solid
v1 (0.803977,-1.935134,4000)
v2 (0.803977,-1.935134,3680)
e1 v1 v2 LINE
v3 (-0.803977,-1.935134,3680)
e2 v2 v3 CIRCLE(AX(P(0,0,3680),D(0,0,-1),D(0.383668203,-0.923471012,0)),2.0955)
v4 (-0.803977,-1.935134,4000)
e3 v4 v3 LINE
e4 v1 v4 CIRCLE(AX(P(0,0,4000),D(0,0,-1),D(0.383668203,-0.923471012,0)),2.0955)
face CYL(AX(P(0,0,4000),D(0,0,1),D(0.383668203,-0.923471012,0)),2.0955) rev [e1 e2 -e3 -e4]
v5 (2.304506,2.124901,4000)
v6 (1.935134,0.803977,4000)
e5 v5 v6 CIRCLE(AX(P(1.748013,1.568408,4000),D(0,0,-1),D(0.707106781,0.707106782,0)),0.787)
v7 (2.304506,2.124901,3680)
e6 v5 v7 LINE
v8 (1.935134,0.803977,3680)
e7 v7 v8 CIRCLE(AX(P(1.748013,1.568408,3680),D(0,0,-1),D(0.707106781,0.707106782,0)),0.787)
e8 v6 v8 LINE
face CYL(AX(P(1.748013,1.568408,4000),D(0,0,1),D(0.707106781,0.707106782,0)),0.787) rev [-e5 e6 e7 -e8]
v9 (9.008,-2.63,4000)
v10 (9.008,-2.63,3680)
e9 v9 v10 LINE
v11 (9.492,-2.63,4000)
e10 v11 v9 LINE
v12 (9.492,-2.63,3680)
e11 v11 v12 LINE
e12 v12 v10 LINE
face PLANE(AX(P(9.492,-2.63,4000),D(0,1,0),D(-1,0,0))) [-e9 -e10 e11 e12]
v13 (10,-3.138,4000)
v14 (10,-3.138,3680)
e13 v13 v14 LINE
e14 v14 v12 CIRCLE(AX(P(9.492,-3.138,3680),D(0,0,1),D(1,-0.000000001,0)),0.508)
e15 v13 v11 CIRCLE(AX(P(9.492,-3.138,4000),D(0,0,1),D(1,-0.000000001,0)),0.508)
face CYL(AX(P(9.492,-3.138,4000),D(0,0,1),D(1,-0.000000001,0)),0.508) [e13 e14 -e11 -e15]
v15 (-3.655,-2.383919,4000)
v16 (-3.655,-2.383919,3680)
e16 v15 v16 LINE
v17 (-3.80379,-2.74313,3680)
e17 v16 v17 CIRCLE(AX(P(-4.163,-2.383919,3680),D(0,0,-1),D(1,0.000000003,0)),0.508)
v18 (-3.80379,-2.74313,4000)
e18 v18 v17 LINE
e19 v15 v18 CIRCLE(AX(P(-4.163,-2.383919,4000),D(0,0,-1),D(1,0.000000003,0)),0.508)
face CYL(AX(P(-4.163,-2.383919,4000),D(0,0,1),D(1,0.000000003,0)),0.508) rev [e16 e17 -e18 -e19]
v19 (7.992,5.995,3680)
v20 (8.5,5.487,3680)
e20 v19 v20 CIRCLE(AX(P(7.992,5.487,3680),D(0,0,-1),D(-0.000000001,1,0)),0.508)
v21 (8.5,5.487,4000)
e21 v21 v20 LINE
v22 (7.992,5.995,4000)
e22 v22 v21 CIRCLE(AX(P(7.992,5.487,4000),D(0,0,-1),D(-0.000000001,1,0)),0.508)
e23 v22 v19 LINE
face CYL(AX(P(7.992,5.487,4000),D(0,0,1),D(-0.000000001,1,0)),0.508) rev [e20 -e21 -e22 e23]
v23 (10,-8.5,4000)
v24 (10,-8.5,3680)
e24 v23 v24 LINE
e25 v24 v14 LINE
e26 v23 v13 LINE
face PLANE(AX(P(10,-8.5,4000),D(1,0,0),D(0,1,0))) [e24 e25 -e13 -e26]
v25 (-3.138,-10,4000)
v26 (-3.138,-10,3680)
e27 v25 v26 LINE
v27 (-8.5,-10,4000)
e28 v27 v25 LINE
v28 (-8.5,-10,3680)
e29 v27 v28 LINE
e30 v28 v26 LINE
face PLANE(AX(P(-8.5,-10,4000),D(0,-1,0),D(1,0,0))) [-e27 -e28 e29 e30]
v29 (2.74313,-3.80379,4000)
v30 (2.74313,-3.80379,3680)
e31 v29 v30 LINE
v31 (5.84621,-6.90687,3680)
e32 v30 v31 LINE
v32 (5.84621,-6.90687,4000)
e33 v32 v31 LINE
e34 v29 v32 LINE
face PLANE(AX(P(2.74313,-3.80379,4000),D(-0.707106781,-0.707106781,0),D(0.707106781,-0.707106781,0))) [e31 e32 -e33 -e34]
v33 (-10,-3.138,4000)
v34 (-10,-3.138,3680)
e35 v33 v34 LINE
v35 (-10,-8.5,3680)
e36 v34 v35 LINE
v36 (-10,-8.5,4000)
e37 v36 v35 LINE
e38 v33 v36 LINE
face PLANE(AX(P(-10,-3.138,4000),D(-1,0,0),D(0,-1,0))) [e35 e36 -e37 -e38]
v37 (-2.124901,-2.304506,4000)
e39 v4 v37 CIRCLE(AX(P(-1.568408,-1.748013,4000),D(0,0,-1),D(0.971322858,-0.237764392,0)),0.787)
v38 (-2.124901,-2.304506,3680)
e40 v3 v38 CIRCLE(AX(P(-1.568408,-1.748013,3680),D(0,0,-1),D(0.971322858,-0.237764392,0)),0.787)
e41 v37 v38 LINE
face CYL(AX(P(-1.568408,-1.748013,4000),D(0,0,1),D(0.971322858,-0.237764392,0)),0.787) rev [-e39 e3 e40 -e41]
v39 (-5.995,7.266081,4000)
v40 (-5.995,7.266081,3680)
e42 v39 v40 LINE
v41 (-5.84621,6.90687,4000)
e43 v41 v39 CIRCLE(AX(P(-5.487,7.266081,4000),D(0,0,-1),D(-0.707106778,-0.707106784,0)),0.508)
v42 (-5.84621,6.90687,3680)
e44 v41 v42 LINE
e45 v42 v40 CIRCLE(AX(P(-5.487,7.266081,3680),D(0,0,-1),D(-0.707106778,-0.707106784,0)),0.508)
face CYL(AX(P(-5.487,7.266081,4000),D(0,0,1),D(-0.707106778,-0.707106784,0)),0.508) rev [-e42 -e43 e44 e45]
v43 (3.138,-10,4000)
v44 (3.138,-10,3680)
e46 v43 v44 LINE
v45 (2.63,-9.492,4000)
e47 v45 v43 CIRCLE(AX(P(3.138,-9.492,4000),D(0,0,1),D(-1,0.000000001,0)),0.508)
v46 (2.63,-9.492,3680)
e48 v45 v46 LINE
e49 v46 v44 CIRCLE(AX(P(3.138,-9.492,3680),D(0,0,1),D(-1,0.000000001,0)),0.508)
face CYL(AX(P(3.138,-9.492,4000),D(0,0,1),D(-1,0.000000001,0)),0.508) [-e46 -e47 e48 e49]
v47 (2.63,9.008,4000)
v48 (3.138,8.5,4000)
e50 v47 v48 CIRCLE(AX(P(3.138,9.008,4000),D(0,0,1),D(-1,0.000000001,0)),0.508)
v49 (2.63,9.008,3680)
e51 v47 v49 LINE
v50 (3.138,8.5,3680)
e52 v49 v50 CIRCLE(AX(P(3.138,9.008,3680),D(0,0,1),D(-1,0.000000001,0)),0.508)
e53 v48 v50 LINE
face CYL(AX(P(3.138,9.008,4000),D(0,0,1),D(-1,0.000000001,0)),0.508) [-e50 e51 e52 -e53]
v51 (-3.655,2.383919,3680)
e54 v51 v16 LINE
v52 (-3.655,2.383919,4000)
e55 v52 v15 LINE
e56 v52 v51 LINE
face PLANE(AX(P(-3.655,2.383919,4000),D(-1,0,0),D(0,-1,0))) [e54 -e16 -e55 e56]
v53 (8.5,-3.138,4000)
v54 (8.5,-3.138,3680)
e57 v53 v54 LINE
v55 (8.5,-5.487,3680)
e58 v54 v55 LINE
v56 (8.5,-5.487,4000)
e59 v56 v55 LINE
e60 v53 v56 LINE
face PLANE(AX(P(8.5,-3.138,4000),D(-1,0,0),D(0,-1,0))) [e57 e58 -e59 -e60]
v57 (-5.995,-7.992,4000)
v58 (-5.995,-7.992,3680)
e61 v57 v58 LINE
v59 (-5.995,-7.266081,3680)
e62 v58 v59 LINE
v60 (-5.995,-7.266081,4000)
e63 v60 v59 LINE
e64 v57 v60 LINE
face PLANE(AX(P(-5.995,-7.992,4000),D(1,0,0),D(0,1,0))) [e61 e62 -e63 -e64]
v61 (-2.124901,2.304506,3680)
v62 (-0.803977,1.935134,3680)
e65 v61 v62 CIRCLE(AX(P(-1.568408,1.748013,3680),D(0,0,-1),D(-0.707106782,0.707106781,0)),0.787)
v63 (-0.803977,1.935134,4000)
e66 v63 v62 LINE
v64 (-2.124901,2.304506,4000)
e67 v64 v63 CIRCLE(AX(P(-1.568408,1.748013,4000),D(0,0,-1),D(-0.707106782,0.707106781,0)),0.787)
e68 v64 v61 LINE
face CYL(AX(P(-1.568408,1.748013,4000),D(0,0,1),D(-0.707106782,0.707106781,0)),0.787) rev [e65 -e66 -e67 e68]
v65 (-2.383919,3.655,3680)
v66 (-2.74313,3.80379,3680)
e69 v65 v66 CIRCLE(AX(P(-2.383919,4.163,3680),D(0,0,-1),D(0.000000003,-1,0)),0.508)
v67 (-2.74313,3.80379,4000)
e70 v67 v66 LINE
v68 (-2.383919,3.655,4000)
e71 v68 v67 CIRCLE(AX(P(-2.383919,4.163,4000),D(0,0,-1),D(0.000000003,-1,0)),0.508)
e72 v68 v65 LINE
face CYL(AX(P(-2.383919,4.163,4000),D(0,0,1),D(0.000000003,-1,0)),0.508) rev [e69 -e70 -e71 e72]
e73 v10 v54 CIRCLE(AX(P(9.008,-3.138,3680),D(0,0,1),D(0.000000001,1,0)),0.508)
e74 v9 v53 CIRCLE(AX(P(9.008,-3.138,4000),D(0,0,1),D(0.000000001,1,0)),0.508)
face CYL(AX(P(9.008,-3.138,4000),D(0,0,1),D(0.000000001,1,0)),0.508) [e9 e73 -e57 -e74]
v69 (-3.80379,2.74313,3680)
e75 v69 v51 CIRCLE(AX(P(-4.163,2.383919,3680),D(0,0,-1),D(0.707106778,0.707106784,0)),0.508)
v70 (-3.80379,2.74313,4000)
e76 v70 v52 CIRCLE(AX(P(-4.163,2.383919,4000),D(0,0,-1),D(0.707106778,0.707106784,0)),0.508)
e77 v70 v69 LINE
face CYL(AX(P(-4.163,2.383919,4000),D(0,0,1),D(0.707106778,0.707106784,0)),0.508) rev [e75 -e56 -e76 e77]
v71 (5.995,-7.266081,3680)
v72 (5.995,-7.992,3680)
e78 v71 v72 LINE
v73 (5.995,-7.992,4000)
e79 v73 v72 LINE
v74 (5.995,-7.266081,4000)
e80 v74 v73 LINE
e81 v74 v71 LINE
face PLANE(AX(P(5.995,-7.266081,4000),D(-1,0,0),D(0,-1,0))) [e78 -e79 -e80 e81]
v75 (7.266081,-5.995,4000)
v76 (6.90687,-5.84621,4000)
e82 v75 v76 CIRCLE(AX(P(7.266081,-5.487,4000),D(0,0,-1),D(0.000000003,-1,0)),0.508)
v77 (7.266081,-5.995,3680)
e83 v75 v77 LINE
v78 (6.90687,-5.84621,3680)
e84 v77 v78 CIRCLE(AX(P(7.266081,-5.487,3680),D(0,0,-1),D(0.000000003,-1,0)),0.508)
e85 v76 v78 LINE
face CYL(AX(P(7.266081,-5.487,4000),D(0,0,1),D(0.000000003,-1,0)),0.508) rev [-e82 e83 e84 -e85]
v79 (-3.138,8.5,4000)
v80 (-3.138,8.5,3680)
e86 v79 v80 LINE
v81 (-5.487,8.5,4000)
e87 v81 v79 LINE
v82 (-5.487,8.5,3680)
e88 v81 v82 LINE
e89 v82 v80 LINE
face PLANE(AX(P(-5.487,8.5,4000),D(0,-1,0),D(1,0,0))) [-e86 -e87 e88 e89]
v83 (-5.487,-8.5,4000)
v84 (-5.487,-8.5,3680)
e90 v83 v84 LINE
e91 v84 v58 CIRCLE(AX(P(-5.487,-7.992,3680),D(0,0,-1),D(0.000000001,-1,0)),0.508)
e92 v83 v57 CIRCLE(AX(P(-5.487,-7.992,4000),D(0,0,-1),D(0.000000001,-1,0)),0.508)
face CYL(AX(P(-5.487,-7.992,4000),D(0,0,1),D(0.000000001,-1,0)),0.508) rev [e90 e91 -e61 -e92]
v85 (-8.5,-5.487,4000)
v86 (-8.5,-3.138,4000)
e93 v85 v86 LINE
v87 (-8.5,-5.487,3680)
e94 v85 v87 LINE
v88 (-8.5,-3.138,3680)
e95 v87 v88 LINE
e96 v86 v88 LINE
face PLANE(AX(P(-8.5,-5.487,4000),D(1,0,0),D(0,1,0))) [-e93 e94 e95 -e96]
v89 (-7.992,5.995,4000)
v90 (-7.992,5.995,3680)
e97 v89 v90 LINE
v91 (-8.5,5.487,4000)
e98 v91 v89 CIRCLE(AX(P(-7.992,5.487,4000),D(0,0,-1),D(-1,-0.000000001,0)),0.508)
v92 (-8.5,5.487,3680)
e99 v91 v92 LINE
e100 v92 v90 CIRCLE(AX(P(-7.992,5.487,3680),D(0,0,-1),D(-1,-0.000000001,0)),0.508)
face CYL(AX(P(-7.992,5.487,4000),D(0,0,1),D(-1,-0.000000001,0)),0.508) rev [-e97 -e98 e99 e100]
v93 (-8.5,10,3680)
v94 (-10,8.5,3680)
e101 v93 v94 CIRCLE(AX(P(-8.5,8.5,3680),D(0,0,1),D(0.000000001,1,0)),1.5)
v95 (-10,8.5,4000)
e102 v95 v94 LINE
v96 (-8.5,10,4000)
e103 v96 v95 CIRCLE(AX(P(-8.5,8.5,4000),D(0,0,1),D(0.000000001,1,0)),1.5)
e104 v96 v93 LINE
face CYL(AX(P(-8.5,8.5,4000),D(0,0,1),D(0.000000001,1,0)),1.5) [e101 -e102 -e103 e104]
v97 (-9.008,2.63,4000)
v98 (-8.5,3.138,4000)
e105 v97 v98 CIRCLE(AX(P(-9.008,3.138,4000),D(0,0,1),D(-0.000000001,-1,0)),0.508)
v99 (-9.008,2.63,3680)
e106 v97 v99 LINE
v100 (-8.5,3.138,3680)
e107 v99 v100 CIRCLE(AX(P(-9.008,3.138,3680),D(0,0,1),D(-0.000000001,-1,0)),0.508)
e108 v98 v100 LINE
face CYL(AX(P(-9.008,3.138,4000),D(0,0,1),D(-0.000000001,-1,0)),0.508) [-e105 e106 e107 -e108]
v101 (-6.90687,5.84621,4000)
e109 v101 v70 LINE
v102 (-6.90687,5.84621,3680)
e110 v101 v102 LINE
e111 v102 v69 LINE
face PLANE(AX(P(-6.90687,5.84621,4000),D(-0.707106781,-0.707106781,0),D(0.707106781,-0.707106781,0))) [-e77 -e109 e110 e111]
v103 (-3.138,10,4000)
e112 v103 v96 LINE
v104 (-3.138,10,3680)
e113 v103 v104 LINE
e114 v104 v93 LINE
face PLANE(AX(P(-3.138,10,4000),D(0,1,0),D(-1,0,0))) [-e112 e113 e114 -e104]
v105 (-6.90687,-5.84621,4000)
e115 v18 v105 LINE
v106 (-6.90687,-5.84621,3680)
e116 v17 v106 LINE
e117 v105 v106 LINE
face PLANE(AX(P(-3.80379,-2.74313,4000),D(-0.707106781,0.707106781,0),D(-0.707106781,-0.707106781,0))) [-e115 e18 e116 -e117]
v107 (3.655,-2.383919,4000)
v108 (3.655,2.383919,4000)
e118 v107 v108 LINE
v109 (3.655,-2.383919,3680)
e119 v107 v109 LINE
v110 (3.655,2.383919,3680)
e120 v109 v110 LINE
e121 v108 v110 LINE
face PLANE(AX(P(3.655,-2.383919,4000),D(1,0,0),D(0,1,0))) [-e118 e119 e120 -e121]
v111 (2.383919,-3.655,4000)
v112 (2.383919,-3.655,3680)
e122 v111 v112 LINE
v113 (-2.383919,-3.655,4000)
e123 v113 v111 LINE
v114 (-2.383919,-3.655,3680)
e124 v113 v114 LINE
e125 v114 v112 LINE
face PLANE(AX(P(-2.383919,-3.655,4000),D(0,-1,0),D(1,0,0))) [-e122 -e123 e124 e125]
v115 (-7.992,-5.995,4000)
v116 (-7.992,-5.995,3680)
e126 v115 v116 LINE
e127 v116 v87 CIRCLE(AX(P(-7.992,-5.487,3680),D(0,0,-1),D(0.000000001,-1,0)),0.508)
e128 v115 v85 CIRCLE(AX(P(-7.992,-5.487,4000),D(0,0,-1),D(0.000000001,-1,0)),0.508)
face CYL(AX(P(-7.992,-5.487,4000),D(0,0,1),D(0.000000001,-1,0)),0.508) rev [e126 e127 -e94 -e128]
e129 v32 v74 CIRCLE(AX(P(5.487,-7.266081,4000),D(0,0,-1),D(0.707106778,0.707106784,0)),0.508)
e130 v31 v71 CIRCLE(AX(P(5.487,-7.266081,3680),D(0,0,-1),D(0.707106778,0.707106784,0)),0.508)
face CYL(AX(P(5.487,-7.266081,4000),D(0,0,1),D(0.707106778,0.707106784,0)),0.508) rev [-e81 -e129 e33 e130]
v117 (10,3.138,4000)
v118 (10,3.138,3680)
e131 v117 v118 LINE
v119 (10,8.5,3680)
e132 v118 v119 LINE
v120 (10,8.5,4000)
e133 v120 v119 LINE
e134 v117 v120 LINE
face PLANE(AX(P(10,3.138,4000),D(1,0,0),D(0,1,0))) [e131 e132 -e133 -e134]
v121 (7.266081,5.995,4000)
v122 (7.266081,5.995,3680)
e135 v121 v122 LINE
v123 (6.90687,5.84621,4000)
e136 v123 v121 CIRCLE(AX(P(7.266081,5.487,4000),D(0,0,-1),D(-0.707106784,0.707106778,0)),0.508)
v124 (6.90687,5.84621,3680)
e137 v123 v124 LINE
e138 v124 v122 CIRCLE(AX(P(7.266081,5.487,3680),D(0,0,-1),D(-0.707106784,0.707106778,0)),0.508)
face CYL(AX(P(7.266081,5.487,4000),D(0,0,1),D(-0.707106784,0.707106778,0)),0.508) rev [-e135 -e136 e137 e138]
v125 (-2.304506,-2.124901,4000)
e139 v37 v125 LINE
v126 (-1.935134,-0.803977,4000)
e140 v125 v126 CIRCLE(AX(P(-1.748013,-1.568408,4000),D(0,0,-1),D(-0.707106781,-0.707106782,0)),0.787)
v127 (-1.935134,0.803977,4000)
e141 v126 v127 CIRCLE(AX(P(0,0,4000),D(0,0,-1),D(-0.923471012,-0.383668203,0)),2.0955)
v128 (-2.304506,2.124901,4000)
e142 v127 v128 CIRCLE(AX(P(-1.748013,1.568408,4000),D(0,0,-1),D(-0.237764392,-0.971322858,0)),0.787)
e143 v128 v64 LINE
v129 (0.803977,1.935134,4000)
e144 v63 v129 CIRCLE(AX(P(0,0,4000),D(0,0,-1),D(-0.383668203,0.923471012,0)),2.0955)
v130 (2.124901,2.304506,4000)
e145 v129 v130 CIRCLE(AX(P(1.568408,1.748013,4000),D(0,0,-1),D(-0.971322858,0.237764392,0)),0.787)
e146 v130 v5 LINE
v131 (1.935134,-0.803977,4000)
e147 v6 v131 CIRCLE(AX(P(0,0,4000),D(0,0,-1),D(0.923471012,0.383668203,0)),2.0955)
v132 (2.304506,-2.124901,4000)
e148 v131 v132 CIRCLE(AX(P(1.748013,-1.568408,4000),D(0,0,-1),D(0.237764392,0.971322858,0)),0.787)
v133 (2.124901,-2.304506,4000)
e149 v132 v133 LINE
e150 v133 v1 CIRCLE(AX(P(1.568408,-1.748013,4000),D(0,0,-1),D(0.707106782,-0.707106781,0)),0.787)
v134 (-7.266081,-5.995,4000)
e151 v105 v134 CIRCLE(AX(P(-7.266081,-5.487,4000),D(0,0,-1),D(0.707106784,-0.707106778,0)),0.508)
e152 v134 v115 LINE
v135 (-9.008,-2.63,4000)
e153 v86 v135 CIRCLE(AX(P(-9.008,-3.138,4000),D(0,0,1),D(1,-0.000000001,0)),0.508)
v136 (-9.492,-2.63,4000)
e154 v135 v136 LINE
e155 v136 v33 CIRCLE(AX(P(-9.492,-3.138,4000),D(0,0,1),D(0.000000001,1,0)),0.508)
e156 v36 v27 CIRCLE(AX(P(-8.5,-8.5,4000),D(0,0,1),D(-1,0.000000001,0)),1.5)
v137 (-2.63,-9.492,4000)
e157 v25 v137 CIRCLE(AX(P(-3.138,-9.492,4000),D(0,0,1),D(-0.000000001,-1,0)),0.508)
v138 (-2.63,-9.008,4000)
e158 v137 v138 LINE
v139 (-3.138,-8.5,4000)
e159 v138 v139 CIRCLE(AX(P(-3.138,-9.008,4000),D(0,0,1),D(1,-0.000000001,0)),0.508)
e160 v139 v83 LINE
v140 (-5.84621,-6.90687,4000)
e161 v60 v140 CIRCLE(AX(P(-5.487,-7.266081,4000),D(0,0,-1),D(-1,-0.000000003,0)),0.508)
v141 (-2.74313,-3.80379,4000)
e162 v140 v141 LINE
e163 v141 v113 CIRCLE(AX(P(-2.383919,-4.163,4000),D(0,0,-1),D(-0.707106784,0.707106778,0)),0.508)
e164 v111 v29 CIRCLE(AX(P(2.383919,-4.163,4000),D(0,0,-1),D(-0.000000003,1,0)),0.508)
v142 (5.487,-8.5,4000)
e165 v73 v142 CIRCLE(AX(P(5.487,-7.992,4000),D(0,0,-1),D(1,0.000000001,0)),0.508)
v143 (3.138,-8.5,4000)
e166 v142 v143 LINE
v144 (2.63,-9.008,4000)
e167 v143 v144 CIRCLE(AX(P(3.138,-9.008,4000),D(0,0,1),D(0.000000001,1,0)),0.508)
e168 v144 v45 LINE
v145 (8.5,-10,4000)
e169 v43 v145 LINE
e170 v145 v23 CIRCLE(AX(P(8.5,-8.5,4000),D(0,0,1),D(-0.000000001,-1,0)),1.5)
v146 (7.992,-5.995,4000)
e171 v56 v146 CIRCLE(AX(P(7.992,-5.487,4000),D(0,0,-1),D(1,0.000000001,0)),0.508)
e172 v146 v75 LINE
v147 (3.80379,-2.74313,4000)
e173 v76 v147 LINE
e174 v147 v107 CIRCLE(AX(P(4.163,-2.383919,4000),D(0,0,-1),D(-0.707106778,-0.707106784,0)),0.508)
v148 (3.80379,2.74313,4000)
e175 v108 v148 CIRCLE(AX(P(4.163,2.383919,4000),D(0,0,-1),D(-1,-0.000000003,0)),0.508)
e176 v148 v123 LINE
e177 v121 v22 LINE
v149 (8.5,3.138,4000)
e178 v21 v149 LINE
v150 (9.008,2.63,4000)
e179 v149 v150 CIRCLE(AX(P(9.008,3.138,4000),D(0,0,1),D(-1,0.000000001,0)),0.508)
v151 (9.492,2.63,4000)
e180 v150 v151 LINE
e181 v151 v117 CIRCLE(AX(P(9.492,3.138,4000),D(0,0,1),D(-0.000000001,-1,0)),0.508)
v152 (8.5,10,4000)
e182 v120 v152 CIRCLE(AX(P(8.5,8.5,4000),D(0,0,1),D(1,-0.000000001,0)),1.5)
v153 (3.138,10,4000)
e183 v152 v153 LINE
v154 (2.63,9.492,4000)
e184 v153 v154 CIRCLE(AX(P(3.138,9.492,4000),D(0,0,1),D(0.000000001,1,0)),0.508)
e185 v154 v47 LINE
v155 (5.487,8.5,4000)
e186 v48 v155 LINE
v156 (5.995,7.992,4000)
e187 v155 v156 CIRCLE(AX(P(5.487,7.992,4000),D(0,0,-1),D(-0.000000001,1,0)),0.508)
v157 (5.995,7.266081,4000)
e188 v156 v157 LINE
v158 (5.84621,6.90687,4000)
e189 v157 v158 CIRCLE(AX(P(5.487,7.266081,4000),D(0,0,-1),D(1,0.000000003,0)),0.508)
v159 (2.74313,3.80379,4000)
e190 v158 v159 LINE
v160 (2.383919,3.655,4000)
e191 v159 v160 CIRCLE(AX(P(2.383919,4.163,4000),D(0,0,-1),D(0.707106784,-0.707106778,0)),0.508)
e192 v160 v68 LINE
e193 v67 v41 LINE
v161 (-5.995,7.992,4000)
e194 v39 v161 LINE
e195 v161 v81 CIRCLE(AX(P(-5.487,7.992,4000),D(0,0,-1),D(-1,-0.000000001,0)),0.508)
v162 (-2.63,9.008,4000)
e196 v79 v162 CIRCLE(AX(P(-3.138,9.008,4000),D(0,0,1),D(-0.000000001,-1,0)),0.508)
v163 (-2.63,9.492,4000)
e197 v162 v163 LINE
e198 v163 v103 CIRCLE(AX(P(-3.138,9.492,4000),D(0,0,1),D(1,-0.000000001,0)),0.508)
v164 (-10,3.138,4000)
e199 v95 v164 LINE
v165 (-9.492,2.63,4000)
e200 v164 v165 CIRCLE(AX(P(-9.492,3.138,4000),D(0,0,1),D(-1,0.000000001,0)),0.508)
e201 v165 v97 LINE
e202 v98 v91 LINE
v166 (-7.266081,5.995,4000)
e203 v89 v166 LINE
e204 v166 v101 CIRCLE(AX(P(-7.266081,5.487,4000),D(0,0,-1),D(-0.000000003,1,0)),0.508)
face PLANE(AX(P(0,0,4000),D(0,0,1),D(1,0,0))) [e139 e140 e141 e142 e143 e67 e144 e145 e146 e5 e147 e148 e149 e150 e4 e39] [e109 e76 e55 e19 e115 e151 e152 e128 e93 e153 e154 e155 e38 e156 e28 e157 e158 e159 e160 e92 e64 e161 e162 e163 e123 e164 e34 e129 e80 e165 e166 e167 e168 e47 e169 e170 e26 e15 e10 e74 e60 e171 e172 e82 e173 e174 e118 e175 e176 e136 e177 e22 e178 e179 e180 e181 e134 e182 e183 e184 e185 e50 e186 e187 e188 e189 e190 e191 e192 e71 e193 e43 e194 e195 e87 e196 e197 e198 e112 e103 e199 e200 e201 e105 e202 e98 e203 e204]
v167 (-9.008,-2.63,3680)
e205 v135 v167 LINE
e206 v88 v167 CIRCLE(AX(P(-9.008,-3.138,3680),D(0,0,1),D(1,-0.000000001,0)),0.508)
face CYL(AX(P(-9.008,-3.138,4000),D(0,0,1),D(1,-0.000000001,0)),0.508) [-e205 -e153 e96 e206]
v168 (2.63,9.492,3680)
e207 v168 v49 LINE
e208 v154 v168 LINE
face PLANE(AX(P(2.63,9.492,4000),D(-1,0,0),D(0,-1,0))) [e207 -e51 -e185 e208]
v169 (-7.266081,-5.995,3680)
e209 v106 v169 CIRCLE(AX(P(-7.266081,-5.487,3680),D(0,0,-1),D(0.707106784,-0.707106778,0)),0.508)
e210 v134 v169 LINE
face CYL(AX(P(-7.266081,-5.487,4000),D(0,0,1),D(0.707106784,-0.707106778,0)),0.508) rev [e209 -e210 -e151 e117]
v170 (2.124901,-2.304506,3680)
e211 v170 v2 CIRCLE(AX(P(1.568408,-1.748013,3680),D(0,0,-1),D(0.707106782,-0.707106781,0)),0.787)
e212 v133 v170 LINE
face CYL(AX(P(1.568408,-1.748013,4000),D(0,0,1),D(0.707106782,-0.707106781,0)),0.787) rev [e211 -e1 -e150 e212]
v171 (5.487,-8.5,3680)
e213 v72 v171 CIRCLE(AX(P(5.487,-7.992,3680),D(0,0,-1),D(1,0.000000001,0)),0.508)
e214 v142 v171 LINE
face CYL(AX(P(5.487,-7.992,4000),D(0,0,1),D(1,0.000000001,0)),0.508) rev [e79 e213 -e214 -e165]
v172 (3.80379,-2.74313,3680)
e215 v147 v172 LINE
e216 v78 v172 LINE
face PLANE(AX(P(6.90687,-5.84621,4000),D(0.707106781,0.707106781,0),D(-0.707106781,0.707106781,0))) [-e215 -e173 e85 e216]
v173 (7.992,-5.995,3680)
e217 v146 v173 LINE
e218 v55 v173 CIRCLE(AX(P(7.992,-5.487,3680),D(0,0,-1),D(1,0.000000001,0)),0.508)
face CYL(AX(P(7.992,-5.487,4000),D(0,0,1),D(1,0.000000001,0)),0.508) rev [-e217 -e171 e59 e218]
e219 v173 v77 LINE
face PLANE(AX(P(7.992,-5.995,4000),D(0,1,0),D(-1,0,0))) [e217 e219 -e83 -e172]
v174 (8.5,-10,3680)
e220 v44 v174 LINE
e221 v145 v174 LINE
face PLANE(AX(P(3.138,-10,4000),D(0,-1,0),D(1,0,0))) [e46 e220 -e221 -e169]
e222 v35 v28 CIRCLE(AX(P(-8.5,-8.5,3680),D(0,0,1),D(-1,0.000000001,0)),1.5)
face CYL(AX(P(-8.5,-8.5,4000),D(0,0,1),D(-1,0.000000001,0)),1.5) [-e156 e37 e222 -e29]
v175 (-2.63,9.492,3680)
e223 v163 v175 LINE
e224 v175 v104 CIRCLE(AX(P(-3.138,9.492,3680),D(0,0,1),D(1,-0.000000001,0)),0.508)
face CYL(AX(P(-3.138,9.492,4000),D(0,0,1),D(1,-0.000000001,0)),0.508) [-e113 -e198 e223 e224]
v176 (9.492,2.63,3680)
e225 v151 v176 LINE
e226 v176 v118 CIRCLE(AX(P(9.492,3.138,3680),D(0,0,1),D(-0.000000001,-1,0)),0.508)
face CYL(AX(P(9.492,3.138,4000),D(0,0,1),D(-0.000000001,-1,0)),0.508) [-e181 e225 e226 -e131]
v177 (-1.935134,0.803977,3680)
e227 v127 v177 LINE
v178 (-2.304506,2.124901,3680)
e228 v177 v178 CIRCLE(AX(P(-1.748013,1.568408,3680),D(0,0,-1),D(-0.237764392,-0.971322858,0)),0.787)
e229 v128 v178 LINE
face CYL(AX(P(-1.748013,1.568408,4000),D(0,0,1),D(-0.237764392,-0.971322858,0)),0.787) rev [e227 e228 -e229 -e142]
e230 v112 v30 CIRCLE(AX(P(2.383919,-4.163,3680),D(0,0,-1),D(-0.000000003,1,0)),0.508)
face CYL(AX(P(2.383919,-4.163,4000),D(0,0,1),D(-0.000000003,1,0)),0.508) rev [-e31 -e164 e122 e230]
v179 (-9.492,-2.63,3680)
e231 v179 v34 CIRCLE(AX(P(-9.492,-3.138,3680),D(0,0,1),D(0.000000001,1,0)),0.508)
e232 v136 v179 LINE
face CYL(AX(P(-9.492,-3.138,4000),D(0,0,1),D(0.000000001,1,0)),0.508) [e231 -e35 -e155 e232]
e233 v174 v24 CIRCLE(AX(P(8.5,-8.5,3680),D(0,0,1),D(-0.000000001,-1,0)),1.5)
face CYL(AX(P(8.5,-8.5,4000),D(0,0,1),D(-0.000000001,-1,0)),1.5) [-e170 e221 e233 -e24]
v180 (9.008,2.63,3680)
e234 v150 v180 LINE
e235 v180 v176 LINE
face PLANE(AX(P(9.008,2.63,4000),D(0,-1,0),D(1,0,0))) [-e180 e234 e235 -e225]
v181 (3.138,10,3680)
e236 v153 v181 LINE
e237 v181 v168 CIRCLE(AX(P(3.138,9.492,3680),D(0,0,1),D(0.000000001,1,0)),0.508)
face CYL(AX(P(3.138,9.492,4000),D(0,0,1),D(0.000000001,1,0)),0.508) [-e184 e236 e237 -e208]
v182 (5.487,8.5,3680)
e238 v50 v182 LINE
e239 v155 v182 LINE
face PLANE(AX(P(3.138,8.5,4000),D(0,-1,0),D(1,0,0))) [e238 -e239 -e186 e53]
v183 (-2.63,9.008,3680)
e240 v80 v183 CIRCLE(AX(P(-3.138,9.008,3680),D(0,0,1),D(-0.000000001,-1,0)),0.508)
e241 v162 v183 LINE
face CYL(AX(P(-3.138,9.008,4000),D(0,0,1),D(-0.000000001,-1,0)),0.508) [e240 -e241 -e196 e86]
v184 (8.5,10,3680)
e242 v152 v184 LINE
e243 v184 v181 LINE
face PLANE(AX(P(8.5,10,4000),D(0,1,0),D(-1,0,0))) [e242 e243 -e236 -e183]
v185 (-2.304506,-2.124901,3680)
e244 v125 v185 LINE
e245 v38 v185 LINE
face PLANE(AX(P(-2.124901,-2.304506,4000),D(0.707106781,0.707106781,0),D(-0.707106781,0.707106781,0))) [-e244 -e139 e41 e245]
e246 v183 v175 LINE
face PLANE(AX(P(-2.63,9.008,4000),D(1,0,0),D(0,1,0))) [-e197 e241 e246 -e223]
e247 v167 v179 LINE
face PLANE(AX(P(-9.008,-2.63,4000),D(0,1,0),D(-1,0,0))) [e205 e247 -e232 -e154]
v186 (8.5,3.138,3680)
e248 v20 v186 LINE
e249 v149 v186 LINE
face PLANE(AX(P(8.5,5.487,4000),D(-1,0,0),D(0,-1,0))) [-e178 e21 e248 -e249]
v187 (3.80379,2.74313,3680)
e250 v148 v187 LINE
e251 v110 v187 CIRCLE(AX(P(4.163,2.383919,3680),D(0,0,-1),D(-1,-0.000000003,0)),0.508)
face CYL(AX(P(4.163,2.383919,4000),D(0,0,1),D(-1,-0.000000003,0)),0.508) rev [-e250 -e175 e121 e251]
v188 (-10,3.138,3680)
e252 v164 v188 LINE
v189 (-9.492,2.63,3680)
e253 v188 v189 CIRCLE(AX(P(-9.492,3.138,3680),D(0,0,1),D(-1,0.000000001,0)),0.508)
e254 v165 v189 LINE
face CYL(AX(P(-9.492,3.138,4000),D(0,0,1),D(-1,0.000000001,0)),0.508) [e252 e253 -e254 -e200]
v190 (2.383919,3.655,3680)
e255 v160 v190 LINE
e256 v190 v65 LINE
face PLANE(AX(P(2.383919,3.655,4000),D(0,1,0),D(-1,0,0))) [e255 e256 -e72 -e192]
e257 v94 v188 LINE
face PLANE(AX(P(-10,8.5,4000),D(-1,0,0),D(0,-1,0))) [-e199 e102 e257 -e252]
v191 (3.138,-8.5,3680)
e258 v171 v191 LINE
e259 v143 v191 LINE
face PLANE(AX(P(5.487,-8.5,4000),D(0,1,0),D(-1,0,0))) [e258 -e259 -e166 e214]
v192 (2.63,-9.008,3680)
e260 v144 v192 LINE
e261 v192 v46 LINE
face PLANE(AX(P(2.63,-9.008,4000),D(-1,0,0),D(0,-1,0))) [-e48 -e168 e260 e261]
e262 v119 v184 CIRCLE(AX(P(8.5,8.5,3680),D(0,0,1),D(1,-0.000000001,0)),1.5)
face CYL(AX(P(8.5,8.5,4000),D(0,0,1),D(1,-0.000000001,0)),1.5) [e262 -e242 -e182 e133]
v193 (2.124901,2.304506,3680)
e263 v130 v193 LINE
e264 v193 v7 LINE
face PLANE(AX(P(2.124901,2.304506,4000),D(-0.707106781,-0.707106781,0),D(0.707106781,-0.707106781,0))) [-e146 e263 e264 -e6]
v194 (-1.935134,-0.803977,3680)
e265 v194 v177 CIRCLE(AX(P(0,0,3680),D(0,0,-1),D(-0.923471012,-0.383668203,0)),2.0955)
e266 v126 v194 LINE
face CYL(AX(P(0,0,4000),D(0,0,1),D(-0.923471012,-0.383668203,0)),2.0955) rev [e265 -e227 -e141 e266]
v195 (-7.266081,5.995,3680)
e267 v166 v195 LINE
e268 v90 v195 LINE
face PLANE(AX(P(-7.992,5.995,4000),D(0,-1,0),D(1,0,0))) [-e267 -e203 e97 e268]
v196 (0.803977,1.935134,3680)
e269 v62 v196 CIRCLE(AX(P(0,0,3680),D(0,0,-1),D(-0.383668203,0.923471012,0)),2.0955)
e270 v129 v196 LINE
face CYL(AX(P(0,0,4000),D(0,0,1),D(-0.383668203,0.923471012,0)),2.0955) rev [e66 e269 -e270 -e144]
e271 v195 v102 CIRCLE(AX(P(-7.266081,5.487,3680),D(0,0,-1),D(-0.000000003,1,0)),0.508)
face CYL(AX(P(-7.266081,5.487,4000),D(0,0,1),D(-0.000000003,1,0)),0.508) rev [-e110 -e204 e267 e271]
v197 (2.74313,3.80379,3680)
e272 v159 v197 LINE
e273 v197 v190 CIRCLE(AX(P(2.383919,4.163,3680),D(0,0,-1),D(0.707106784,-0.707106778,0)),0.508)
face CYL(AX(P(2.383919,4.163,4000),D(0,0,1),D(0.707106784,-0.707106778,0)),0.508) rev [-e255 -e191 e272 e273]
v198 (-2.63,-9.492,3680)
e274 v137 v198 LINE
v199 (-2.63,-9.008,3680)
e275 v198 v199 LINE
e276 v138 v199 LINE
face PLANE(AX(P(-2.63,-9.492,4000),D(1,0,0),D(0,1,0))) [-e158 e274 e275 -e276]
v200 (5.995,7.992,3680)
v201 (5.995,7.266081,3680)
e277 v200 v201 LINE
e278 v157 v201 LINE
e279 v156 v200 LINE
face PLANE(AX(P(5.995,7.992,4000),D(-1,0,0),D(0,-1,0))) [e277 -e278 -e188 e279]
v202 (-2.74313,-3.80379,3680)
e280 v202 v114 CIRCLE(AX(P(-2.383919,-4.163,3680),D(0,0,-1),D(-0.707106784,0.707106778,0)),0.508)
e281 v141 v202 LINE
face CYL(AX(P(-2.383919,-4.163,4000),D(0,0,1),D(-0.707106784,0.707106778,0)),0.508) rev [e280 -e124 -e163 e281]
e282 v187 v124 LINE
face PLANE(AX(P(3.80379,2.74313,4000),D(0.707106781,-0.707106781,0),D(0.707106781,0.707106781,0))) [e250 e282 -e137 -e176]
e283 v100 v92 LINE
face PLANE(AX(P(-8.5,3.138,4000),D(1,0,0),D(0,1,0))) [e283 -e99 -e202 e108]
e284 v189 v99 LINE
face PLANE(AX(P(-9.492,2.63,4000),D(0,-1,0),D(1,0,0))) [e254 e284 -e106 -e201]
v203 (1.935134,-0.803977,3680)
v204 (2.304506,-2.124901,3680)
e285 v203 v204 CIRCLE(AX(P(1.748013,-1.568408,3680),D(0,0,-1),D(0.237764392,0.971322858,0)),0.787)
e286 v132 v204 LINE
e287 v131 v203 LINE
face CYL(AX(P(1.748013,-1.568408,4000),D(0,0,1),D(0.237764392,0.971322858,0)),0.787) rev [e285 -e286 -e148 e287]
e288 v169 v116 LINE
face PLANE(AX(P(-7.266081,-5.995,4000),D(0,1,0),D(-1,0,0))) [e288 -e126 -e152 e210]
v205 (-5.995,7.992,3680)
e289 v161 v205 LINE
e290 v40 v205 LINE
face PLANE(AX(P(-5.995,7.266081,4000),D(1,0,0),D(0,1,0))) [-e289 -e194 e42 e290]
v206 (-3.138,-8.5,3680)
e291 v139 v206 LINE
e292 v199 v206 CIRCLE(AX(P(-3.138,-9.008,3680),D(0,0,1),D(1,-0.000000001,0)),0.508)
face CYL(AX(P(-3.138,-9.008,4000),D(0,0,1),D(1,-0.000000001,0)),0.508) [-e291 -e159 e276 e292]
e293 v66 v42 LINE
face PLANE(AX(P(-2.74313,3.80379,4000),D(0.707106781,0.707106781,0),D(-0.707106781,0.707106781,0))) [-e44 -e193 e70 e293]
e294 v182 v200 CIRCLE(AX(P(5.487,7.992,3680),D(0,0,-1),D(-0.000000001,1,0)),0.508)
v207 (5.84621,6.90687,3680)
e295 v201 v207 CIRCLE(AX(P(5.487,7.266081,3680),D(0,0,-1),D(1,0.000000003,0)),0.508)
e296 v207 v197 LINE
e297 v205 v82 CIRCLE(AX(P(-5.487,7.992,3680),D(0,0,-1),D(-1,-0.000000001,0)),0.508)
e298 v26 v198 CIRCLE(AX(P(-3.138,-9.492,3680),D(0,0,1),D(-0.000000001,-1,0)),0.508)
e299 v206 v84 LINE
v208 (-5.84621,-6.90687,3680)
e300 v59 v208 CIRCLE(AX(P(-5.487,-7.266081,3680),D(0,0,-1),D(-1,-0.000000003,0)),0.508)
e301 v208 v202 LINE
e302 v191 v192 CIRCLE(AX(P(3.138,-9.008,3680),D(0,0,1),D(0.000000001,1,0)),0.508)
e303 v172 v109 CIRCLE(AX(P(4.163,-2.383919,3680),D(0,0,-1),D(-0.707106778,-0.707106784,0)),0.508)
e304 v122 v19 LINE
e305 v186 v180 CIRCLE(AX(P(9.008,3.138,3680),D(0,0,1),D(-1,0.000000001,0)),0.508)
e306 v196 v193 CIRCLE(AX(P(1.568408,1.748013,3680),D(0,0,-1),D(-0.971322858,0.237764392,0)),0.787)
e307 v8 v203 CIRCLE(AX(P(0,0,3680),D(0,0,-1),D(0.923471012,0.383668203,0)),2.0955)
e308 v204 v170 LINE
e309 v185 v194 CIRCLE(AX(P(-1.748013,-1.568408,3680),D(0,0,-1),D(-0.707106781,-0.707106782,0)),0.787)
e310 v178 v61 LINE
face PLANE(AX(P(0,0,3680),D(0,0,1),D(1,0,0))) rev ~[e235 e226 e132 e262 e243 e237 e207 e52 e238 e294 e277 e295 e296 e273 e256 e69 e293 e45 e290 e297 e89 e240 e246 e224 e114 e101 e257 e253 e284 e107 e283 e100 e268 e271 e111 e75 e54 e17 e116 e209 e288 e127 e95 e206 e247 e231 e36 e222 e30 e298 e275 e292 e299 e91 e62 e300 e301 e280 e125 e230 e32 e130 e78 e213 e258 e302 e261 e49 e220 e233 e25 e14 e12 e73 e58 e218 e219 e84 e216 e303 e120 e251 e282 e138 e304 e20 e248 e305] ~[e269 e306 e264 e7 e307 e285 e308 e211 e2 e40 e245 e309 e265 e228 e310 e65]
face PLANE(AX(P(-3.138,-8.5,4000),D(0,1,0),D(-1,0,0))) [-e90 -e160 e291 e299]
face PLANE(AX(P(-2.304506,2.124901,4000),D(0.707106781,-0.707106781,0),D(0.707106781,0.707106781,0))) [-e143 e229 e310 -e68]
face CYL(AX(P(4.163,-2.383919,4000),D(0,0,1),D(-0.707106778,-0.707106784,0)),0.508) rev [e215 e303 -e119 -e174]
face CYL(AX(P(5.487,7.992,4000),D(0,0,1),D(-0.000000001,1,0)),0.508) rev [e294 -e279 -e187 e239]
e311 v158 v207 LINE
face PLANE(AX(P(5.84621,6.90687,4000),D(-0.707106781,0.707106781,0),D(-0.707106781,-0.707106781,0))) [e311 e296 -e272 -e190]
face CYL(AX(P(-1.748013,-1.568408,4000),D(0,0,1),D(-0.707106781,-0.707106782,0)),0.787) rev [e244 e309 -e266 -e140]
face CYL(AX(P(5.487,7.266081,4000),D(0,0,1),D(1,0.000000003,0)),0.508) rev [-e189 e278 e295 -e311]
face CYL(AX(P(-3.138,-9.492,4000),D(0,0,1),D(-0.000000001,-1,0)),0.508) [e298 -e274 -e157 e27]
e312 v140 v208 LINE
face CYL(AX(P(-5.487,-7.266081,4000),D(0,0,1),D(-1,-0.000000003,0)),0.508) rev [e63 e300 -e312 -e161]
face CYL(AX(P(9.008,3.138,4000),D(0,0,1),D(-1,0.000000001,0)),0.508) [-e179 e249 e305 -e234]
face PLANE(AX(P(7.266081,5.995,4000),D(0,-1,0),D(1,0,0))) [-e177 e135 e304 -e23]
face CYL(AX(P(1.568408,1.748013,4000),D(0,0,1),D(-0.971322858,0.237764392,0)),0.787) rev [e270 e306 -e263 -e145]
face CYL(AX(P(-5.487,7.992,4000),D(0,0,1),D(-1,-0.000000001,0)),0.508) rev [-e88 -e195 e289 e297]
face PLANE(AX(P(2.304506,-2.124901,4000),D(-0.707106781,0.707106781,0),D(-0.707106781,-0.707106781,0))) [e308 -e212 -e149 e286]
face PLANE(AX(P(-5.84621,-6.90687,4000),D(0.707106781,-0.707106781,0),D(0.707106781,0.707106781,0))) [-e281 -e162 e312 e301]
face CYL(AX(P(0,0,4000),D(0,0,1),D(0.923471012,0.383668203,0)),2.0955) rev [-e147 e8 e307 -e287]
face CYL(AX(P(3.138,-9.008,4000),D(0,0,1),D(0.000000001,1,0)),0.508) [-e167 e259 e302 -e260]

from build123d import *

# Parameters (mm, degrees)
BOSS_EXTRUDE1_DEPTH = 320


with BuildPart() as part:
    # Sketch1 → Boss-Extrude1 (new body)
    with BuildSketch(Plane.XY.offset(4000)):
        with BuildLine():
            Line((10, 3.138), (10, 8.5))
            ThreePointArc((10, 8.5), (9.560660172, 9.560660172), (8.5, 10))
            Line((8.5, 10), (3.138, 10))
            ThreePointArc((3.138, 10), (2.778789755, 9.851210245), (2.63, 9.492))
            Line((2.63, 9.492), (2.63, 9.008))
            ThreePointArc((2.63, 9.008), (2.778789755, 8.648789755), (3.138, 8.5))
            Line((3.138, 8.5), (5.487, 8.5))
            ThreePointArc((5.487, 8.5), (5.846210245, 8.351210245), (5.995, 7.992))
            Line((5.995, 7.992), (5.995, 7.266080661))
            ThreePointArc((5.995, 7.266080661), (5.956330803, 7.071677478), (5.846210245, 6.906870417))
            Line((5.846210245, 6.906870417), (2.743129583, 3.803789755))
            ThreePointArc((2.743129583, 3.803789755), (2.578322522, 3.693669197), (2.383919339, 3.655))
            Line((2.383919339, 3.655), (-2.383919339, 3.655))
            ThreePointArc((-2.383919339, 3.655), (-2.578322522, 3.693669197), (-2.743129583, 3.803789755))
            Line((-2.743129583, 3.803789755), (-5.846210245, 6.906870417))
            ThreePointArc((-5.846210245, 6.906870417), (-5.956330803, 7.071677478), (-5.995, 7.266080661))
            Line((-5.995, 7.266080661), (-5.995, 7.992))
            ThreePointArc((-5.995, 7.992), (-5.846210245, 8.351210245), (-5.487, 8.5))
            Line((-5.487, 8.5), (-3.138, 8.5))
            ThreePointArc((-3.138, 8.5), (-2.778789755, 8.648789755), (-2.63, 9.008))
            Line((-2.63, 9.008), (-2.63, 9.492))
            ThreePointArc((-2.63, 9.492), (-2.778789755, 9.851210245), (-3.138, 10))
            Line((-3.138, 10), (-8.5, 10))
            ThreePointArc((-8.5, 10), (-9.560660172, 9.560660172), (-10, 8.5))
            Line((-10, 8.5), (-10, 3.138))
            ThreePointArc((-10, 3.138), (-9.851210245, 2.778789755), (-9.492, 2.63))
            Line((-9.492, 2.63), (-9.008, 2.63))
            ThreePointArc((-9.008, 2.63), (-8.648789755, 2.778789755), (-8.5, 3.138))
            Line((-8.5, 3.138), (-8.5, 5.487))
            ThreePointArc((-8.5, 5.487), (-8.351210245, 5.846210245), (-7.992, 5.995))
            Line((-7.992, 5.995), (-7.266080661, 5.995))
            ThreePointArc((-7.266080661, 5.995), (-7.071677478, 5.956330803), (-6.906870417, 5.846210245))
            Line((-6.906870417, 5.846210245), (-3.803789755, 2.743129583))
            ThreePointArc((-3.803789755, 2.743129583), (-3.693669197, 2.578322522), (-3.655, 2.383919339))
            Line((-3.655, 2.383919339), (-3.655, -2.383919339))
            ThreePointArc((-3.655, -2.383919339), (-3.693669197, -2.578322522), (-3.803789755, -2.743129583))
            Line((-3.803789755, -2.743129583), (-6.906870417, -5.846210245))
            ThreePointArc((-6.906870417, -5.846210245), (-7.071677478, -5.956330803), (-7.266080661, -5.995))
            Line((-7.266080661, -5.995), (-7.992, -5.995))
            ThreePointArc((-7.992, -5.995), (-8.351210245, -5.846210245), (-8.5, -5.487))
            Line((-8.5, -5.487), (-8.5, -3.138))
            ThreePointArc((-8.5, -3.138), (-8.648789755, -2.778789755), (-9.008, -2.63))
            Line((-9.008, -2.63), (-9.492, -2.63))
            ThreePointArc((-9.492, -2.63), (-9.851210245, -2.778789755), (-10, -3.138))
            Line((-10, -3.138), (-10, -8.5))
            ThreePointArc((-10, -8.5), (-9.560660172, -9.560660172), (-8.5, -10))
            Line((-8.5, -10), (-3.138, -10))
            ThreePointArc((-3.138, -10), (-2.778789755, -9.851210245), (-2.63, -9.492))
            Line((-2.63, -9.492), (-2.63, -9.008))
            ThreePointArc((-2.63, -9.008), (-2.778789755, -8.648789755), (-3.138, -8.5))
            Line((-3.138, -8.5), (-5.487, -8.5))
            ThreePointArc((-5.487, -8.5), (-5.846210245, -8.351210245), (-5.995, -7.992))
            Line((-5.995, -7.992), (-5.995, -7.266080661))
            ThreePointArc((-5.995, -7.266080661), (-5.956330803, -7.071677478), (-5.846210245, -6.906870417))
            Line((-5.846210245, -6.906870417), (-2.743129583, -3.803789755))
            ThreePointArc((-2.743129583, -3.803789755), (-2.578322522, -3.693669197), (-2.383919339, -3.655))
            Line((-2.383919339, -3.655), (2.383919339, -3.655))
            ThreePointArc((2.383919339, -3.655), (2.578322522, -3.693669197), (2.743129583, -3.803789755))
            Line((2.743129583, -3.803789755), (5.846210245, -6.906870417))
            ThreePointArc((5.846210245, -6.906870417), (5.956330803, -7.071677478), (5.995, -7.266080661))
            Line((5.995, -7.266080661), (5.995, -7.992))
            ThreePointArc((5.995, -7.992), (5.846210245, -8.351210245), (5.487, -8.5))
            Line((5.487, -8.5), (3.138, -8.5))
            ThreePointArc((3.138, -8.5), (2.778789755, -8.648789755), (2.63, -9.008))
            Line((2.63, -9.008), (2.63, -9.492))
            ThreePointArc((2.63, -9.492), (2.778789755, -9.851210245), (3.138, -10))
            Line((3.138, -10), (8.5, -10))
            ThreePointArc((8.5, -10), (9.560660172, -9.560660172), (10, -8.5))
            Line((10, -8.5), (10, -3.138))
            ThreePointArc((10, -3.138), (9.851210245, -2.778789755), (9.492, -2.63))
            Line((9.492, -2.63), (9.008, -2.63))
            ThreePointArc((9.008, -2.63), (8.648789755, -2.778789755), (8.5, -3.138))
            Line((8.5, -3.138), (8.5, -5.487))
            ThreePointArc((8.5, -5.487), (8.351210245, -5.846210245), (7.992, -5.995))
            Line((7.992, -5.995), (7.266080661, -5.995))
            ThreePointArc((7.266080661, -5.995), (7.071677478, -5.956330803), (6.906870417, -5.846210245))
            Line((6.906870417, -5.846210245), (3.803789755, -2.743129583))
            ThreePointArc((3.803789755, -2.743129583), (3.693669197, -2.578322522), (3.655, -2.383919339))
            Line((3.655, -2.383919339), (3.655, 2.383919339))
            ThreePointArc((3.655, 2.383919339), (3.693669197, 2.578322522), (3.803789755, 2.743129583))
            Line((3.803789755, 2.743129583), (6.906870417, 5.846210245))
            ThreePointArc((6.906870417, 5.846210245), (7.071677478, 5.956330803), (7.266080661, 5.995))
            Line((7.266080661, 5.995), (7.992, 5.995))
            ThreePointArc((7.992, 5.995), (8.351210245, 5.846210245), (8.5, 5.487))
            Line((8.5, 5.487), (8.5, 3.138))
            ThreePointArc((8.5, 3.138), (8.648789755, 2.778789755), (9.008, 2.63))
            Line((9.008, 2.63), (9.492, 2.63))
            ThreePointArc((9.492, 2.63), (9.851210245, 2.778789755), (10, 3.138))
        make_face()
        with BuildLine():
            Line((-2.124900844, -2.304505966), (-2.304505966, -2.124900844))
            ThreePointArc((-2.304505966, -2.124900844), (-2.505938017, -1.356467811), (-1.935133506, -0.803976718))
            ThreePointArc((-1.935133506, -0.803976718), (-2.0955, 0), (-1.935133506, 0.803976718))
            ThreePointArc((-1.935133506, 0.803976718), (-2.505938017, 1.356467811), (-2.304505966, 2.124900844))
            Line((-2.304505966, 2.124900844), (-2.124900844, 2.304505966))
            ThreePointArc((-2.124900844, 2.304505966), (-1.356467811, 2.505938017), (-0.803976718, 1.935133506))
            ThreePointArc((-0.803976718, 1.935133506), (0, 2.0955), (0.803976718, 1.935133506))
            ThreePointArc((0.803976718, 1.935133506), (1.356467811, 2.505938017), (2.124900844, 2.304505966))
            Line((2.124900844, 2.304505966), (2.304505966, 2.124900844))
            ThreePointArc((2.304505966, 2.124900844), (2.505938017, 1.356467811), (1.935133506, 0.803976718))
            ThreePointArc((1.935133506, 0.803976718), (2.0955, 0), (1.935133506, -0.803976718))
            ThreePointArc((1.935133506, -0.803976718), (2.505938017, -1.356467811), (2.304505966, -2.124900844))
            Line((2.304505966, -2.124900844), (2.124900844, -2.304505966))
            ThreePointArc((2.124900844, -2.304505966), (1.356467811, -2.505938017), (0.803976718, -1.935133506))
            ThreePointArc((0.803976718, -1.935133506), (0, -2.0955), (-0.803976718, -1.935133506))
            ThreePointArc((-0.803976718, -1.935133506), (-1.356467811, -2.505938017), (-2.124900844, -2.304505966))
        make_face(mode=Mode.SUBTRACT)
    extrude(amount=-BOSS_EXTRUDE1_DEPTH)


solid = part.part
